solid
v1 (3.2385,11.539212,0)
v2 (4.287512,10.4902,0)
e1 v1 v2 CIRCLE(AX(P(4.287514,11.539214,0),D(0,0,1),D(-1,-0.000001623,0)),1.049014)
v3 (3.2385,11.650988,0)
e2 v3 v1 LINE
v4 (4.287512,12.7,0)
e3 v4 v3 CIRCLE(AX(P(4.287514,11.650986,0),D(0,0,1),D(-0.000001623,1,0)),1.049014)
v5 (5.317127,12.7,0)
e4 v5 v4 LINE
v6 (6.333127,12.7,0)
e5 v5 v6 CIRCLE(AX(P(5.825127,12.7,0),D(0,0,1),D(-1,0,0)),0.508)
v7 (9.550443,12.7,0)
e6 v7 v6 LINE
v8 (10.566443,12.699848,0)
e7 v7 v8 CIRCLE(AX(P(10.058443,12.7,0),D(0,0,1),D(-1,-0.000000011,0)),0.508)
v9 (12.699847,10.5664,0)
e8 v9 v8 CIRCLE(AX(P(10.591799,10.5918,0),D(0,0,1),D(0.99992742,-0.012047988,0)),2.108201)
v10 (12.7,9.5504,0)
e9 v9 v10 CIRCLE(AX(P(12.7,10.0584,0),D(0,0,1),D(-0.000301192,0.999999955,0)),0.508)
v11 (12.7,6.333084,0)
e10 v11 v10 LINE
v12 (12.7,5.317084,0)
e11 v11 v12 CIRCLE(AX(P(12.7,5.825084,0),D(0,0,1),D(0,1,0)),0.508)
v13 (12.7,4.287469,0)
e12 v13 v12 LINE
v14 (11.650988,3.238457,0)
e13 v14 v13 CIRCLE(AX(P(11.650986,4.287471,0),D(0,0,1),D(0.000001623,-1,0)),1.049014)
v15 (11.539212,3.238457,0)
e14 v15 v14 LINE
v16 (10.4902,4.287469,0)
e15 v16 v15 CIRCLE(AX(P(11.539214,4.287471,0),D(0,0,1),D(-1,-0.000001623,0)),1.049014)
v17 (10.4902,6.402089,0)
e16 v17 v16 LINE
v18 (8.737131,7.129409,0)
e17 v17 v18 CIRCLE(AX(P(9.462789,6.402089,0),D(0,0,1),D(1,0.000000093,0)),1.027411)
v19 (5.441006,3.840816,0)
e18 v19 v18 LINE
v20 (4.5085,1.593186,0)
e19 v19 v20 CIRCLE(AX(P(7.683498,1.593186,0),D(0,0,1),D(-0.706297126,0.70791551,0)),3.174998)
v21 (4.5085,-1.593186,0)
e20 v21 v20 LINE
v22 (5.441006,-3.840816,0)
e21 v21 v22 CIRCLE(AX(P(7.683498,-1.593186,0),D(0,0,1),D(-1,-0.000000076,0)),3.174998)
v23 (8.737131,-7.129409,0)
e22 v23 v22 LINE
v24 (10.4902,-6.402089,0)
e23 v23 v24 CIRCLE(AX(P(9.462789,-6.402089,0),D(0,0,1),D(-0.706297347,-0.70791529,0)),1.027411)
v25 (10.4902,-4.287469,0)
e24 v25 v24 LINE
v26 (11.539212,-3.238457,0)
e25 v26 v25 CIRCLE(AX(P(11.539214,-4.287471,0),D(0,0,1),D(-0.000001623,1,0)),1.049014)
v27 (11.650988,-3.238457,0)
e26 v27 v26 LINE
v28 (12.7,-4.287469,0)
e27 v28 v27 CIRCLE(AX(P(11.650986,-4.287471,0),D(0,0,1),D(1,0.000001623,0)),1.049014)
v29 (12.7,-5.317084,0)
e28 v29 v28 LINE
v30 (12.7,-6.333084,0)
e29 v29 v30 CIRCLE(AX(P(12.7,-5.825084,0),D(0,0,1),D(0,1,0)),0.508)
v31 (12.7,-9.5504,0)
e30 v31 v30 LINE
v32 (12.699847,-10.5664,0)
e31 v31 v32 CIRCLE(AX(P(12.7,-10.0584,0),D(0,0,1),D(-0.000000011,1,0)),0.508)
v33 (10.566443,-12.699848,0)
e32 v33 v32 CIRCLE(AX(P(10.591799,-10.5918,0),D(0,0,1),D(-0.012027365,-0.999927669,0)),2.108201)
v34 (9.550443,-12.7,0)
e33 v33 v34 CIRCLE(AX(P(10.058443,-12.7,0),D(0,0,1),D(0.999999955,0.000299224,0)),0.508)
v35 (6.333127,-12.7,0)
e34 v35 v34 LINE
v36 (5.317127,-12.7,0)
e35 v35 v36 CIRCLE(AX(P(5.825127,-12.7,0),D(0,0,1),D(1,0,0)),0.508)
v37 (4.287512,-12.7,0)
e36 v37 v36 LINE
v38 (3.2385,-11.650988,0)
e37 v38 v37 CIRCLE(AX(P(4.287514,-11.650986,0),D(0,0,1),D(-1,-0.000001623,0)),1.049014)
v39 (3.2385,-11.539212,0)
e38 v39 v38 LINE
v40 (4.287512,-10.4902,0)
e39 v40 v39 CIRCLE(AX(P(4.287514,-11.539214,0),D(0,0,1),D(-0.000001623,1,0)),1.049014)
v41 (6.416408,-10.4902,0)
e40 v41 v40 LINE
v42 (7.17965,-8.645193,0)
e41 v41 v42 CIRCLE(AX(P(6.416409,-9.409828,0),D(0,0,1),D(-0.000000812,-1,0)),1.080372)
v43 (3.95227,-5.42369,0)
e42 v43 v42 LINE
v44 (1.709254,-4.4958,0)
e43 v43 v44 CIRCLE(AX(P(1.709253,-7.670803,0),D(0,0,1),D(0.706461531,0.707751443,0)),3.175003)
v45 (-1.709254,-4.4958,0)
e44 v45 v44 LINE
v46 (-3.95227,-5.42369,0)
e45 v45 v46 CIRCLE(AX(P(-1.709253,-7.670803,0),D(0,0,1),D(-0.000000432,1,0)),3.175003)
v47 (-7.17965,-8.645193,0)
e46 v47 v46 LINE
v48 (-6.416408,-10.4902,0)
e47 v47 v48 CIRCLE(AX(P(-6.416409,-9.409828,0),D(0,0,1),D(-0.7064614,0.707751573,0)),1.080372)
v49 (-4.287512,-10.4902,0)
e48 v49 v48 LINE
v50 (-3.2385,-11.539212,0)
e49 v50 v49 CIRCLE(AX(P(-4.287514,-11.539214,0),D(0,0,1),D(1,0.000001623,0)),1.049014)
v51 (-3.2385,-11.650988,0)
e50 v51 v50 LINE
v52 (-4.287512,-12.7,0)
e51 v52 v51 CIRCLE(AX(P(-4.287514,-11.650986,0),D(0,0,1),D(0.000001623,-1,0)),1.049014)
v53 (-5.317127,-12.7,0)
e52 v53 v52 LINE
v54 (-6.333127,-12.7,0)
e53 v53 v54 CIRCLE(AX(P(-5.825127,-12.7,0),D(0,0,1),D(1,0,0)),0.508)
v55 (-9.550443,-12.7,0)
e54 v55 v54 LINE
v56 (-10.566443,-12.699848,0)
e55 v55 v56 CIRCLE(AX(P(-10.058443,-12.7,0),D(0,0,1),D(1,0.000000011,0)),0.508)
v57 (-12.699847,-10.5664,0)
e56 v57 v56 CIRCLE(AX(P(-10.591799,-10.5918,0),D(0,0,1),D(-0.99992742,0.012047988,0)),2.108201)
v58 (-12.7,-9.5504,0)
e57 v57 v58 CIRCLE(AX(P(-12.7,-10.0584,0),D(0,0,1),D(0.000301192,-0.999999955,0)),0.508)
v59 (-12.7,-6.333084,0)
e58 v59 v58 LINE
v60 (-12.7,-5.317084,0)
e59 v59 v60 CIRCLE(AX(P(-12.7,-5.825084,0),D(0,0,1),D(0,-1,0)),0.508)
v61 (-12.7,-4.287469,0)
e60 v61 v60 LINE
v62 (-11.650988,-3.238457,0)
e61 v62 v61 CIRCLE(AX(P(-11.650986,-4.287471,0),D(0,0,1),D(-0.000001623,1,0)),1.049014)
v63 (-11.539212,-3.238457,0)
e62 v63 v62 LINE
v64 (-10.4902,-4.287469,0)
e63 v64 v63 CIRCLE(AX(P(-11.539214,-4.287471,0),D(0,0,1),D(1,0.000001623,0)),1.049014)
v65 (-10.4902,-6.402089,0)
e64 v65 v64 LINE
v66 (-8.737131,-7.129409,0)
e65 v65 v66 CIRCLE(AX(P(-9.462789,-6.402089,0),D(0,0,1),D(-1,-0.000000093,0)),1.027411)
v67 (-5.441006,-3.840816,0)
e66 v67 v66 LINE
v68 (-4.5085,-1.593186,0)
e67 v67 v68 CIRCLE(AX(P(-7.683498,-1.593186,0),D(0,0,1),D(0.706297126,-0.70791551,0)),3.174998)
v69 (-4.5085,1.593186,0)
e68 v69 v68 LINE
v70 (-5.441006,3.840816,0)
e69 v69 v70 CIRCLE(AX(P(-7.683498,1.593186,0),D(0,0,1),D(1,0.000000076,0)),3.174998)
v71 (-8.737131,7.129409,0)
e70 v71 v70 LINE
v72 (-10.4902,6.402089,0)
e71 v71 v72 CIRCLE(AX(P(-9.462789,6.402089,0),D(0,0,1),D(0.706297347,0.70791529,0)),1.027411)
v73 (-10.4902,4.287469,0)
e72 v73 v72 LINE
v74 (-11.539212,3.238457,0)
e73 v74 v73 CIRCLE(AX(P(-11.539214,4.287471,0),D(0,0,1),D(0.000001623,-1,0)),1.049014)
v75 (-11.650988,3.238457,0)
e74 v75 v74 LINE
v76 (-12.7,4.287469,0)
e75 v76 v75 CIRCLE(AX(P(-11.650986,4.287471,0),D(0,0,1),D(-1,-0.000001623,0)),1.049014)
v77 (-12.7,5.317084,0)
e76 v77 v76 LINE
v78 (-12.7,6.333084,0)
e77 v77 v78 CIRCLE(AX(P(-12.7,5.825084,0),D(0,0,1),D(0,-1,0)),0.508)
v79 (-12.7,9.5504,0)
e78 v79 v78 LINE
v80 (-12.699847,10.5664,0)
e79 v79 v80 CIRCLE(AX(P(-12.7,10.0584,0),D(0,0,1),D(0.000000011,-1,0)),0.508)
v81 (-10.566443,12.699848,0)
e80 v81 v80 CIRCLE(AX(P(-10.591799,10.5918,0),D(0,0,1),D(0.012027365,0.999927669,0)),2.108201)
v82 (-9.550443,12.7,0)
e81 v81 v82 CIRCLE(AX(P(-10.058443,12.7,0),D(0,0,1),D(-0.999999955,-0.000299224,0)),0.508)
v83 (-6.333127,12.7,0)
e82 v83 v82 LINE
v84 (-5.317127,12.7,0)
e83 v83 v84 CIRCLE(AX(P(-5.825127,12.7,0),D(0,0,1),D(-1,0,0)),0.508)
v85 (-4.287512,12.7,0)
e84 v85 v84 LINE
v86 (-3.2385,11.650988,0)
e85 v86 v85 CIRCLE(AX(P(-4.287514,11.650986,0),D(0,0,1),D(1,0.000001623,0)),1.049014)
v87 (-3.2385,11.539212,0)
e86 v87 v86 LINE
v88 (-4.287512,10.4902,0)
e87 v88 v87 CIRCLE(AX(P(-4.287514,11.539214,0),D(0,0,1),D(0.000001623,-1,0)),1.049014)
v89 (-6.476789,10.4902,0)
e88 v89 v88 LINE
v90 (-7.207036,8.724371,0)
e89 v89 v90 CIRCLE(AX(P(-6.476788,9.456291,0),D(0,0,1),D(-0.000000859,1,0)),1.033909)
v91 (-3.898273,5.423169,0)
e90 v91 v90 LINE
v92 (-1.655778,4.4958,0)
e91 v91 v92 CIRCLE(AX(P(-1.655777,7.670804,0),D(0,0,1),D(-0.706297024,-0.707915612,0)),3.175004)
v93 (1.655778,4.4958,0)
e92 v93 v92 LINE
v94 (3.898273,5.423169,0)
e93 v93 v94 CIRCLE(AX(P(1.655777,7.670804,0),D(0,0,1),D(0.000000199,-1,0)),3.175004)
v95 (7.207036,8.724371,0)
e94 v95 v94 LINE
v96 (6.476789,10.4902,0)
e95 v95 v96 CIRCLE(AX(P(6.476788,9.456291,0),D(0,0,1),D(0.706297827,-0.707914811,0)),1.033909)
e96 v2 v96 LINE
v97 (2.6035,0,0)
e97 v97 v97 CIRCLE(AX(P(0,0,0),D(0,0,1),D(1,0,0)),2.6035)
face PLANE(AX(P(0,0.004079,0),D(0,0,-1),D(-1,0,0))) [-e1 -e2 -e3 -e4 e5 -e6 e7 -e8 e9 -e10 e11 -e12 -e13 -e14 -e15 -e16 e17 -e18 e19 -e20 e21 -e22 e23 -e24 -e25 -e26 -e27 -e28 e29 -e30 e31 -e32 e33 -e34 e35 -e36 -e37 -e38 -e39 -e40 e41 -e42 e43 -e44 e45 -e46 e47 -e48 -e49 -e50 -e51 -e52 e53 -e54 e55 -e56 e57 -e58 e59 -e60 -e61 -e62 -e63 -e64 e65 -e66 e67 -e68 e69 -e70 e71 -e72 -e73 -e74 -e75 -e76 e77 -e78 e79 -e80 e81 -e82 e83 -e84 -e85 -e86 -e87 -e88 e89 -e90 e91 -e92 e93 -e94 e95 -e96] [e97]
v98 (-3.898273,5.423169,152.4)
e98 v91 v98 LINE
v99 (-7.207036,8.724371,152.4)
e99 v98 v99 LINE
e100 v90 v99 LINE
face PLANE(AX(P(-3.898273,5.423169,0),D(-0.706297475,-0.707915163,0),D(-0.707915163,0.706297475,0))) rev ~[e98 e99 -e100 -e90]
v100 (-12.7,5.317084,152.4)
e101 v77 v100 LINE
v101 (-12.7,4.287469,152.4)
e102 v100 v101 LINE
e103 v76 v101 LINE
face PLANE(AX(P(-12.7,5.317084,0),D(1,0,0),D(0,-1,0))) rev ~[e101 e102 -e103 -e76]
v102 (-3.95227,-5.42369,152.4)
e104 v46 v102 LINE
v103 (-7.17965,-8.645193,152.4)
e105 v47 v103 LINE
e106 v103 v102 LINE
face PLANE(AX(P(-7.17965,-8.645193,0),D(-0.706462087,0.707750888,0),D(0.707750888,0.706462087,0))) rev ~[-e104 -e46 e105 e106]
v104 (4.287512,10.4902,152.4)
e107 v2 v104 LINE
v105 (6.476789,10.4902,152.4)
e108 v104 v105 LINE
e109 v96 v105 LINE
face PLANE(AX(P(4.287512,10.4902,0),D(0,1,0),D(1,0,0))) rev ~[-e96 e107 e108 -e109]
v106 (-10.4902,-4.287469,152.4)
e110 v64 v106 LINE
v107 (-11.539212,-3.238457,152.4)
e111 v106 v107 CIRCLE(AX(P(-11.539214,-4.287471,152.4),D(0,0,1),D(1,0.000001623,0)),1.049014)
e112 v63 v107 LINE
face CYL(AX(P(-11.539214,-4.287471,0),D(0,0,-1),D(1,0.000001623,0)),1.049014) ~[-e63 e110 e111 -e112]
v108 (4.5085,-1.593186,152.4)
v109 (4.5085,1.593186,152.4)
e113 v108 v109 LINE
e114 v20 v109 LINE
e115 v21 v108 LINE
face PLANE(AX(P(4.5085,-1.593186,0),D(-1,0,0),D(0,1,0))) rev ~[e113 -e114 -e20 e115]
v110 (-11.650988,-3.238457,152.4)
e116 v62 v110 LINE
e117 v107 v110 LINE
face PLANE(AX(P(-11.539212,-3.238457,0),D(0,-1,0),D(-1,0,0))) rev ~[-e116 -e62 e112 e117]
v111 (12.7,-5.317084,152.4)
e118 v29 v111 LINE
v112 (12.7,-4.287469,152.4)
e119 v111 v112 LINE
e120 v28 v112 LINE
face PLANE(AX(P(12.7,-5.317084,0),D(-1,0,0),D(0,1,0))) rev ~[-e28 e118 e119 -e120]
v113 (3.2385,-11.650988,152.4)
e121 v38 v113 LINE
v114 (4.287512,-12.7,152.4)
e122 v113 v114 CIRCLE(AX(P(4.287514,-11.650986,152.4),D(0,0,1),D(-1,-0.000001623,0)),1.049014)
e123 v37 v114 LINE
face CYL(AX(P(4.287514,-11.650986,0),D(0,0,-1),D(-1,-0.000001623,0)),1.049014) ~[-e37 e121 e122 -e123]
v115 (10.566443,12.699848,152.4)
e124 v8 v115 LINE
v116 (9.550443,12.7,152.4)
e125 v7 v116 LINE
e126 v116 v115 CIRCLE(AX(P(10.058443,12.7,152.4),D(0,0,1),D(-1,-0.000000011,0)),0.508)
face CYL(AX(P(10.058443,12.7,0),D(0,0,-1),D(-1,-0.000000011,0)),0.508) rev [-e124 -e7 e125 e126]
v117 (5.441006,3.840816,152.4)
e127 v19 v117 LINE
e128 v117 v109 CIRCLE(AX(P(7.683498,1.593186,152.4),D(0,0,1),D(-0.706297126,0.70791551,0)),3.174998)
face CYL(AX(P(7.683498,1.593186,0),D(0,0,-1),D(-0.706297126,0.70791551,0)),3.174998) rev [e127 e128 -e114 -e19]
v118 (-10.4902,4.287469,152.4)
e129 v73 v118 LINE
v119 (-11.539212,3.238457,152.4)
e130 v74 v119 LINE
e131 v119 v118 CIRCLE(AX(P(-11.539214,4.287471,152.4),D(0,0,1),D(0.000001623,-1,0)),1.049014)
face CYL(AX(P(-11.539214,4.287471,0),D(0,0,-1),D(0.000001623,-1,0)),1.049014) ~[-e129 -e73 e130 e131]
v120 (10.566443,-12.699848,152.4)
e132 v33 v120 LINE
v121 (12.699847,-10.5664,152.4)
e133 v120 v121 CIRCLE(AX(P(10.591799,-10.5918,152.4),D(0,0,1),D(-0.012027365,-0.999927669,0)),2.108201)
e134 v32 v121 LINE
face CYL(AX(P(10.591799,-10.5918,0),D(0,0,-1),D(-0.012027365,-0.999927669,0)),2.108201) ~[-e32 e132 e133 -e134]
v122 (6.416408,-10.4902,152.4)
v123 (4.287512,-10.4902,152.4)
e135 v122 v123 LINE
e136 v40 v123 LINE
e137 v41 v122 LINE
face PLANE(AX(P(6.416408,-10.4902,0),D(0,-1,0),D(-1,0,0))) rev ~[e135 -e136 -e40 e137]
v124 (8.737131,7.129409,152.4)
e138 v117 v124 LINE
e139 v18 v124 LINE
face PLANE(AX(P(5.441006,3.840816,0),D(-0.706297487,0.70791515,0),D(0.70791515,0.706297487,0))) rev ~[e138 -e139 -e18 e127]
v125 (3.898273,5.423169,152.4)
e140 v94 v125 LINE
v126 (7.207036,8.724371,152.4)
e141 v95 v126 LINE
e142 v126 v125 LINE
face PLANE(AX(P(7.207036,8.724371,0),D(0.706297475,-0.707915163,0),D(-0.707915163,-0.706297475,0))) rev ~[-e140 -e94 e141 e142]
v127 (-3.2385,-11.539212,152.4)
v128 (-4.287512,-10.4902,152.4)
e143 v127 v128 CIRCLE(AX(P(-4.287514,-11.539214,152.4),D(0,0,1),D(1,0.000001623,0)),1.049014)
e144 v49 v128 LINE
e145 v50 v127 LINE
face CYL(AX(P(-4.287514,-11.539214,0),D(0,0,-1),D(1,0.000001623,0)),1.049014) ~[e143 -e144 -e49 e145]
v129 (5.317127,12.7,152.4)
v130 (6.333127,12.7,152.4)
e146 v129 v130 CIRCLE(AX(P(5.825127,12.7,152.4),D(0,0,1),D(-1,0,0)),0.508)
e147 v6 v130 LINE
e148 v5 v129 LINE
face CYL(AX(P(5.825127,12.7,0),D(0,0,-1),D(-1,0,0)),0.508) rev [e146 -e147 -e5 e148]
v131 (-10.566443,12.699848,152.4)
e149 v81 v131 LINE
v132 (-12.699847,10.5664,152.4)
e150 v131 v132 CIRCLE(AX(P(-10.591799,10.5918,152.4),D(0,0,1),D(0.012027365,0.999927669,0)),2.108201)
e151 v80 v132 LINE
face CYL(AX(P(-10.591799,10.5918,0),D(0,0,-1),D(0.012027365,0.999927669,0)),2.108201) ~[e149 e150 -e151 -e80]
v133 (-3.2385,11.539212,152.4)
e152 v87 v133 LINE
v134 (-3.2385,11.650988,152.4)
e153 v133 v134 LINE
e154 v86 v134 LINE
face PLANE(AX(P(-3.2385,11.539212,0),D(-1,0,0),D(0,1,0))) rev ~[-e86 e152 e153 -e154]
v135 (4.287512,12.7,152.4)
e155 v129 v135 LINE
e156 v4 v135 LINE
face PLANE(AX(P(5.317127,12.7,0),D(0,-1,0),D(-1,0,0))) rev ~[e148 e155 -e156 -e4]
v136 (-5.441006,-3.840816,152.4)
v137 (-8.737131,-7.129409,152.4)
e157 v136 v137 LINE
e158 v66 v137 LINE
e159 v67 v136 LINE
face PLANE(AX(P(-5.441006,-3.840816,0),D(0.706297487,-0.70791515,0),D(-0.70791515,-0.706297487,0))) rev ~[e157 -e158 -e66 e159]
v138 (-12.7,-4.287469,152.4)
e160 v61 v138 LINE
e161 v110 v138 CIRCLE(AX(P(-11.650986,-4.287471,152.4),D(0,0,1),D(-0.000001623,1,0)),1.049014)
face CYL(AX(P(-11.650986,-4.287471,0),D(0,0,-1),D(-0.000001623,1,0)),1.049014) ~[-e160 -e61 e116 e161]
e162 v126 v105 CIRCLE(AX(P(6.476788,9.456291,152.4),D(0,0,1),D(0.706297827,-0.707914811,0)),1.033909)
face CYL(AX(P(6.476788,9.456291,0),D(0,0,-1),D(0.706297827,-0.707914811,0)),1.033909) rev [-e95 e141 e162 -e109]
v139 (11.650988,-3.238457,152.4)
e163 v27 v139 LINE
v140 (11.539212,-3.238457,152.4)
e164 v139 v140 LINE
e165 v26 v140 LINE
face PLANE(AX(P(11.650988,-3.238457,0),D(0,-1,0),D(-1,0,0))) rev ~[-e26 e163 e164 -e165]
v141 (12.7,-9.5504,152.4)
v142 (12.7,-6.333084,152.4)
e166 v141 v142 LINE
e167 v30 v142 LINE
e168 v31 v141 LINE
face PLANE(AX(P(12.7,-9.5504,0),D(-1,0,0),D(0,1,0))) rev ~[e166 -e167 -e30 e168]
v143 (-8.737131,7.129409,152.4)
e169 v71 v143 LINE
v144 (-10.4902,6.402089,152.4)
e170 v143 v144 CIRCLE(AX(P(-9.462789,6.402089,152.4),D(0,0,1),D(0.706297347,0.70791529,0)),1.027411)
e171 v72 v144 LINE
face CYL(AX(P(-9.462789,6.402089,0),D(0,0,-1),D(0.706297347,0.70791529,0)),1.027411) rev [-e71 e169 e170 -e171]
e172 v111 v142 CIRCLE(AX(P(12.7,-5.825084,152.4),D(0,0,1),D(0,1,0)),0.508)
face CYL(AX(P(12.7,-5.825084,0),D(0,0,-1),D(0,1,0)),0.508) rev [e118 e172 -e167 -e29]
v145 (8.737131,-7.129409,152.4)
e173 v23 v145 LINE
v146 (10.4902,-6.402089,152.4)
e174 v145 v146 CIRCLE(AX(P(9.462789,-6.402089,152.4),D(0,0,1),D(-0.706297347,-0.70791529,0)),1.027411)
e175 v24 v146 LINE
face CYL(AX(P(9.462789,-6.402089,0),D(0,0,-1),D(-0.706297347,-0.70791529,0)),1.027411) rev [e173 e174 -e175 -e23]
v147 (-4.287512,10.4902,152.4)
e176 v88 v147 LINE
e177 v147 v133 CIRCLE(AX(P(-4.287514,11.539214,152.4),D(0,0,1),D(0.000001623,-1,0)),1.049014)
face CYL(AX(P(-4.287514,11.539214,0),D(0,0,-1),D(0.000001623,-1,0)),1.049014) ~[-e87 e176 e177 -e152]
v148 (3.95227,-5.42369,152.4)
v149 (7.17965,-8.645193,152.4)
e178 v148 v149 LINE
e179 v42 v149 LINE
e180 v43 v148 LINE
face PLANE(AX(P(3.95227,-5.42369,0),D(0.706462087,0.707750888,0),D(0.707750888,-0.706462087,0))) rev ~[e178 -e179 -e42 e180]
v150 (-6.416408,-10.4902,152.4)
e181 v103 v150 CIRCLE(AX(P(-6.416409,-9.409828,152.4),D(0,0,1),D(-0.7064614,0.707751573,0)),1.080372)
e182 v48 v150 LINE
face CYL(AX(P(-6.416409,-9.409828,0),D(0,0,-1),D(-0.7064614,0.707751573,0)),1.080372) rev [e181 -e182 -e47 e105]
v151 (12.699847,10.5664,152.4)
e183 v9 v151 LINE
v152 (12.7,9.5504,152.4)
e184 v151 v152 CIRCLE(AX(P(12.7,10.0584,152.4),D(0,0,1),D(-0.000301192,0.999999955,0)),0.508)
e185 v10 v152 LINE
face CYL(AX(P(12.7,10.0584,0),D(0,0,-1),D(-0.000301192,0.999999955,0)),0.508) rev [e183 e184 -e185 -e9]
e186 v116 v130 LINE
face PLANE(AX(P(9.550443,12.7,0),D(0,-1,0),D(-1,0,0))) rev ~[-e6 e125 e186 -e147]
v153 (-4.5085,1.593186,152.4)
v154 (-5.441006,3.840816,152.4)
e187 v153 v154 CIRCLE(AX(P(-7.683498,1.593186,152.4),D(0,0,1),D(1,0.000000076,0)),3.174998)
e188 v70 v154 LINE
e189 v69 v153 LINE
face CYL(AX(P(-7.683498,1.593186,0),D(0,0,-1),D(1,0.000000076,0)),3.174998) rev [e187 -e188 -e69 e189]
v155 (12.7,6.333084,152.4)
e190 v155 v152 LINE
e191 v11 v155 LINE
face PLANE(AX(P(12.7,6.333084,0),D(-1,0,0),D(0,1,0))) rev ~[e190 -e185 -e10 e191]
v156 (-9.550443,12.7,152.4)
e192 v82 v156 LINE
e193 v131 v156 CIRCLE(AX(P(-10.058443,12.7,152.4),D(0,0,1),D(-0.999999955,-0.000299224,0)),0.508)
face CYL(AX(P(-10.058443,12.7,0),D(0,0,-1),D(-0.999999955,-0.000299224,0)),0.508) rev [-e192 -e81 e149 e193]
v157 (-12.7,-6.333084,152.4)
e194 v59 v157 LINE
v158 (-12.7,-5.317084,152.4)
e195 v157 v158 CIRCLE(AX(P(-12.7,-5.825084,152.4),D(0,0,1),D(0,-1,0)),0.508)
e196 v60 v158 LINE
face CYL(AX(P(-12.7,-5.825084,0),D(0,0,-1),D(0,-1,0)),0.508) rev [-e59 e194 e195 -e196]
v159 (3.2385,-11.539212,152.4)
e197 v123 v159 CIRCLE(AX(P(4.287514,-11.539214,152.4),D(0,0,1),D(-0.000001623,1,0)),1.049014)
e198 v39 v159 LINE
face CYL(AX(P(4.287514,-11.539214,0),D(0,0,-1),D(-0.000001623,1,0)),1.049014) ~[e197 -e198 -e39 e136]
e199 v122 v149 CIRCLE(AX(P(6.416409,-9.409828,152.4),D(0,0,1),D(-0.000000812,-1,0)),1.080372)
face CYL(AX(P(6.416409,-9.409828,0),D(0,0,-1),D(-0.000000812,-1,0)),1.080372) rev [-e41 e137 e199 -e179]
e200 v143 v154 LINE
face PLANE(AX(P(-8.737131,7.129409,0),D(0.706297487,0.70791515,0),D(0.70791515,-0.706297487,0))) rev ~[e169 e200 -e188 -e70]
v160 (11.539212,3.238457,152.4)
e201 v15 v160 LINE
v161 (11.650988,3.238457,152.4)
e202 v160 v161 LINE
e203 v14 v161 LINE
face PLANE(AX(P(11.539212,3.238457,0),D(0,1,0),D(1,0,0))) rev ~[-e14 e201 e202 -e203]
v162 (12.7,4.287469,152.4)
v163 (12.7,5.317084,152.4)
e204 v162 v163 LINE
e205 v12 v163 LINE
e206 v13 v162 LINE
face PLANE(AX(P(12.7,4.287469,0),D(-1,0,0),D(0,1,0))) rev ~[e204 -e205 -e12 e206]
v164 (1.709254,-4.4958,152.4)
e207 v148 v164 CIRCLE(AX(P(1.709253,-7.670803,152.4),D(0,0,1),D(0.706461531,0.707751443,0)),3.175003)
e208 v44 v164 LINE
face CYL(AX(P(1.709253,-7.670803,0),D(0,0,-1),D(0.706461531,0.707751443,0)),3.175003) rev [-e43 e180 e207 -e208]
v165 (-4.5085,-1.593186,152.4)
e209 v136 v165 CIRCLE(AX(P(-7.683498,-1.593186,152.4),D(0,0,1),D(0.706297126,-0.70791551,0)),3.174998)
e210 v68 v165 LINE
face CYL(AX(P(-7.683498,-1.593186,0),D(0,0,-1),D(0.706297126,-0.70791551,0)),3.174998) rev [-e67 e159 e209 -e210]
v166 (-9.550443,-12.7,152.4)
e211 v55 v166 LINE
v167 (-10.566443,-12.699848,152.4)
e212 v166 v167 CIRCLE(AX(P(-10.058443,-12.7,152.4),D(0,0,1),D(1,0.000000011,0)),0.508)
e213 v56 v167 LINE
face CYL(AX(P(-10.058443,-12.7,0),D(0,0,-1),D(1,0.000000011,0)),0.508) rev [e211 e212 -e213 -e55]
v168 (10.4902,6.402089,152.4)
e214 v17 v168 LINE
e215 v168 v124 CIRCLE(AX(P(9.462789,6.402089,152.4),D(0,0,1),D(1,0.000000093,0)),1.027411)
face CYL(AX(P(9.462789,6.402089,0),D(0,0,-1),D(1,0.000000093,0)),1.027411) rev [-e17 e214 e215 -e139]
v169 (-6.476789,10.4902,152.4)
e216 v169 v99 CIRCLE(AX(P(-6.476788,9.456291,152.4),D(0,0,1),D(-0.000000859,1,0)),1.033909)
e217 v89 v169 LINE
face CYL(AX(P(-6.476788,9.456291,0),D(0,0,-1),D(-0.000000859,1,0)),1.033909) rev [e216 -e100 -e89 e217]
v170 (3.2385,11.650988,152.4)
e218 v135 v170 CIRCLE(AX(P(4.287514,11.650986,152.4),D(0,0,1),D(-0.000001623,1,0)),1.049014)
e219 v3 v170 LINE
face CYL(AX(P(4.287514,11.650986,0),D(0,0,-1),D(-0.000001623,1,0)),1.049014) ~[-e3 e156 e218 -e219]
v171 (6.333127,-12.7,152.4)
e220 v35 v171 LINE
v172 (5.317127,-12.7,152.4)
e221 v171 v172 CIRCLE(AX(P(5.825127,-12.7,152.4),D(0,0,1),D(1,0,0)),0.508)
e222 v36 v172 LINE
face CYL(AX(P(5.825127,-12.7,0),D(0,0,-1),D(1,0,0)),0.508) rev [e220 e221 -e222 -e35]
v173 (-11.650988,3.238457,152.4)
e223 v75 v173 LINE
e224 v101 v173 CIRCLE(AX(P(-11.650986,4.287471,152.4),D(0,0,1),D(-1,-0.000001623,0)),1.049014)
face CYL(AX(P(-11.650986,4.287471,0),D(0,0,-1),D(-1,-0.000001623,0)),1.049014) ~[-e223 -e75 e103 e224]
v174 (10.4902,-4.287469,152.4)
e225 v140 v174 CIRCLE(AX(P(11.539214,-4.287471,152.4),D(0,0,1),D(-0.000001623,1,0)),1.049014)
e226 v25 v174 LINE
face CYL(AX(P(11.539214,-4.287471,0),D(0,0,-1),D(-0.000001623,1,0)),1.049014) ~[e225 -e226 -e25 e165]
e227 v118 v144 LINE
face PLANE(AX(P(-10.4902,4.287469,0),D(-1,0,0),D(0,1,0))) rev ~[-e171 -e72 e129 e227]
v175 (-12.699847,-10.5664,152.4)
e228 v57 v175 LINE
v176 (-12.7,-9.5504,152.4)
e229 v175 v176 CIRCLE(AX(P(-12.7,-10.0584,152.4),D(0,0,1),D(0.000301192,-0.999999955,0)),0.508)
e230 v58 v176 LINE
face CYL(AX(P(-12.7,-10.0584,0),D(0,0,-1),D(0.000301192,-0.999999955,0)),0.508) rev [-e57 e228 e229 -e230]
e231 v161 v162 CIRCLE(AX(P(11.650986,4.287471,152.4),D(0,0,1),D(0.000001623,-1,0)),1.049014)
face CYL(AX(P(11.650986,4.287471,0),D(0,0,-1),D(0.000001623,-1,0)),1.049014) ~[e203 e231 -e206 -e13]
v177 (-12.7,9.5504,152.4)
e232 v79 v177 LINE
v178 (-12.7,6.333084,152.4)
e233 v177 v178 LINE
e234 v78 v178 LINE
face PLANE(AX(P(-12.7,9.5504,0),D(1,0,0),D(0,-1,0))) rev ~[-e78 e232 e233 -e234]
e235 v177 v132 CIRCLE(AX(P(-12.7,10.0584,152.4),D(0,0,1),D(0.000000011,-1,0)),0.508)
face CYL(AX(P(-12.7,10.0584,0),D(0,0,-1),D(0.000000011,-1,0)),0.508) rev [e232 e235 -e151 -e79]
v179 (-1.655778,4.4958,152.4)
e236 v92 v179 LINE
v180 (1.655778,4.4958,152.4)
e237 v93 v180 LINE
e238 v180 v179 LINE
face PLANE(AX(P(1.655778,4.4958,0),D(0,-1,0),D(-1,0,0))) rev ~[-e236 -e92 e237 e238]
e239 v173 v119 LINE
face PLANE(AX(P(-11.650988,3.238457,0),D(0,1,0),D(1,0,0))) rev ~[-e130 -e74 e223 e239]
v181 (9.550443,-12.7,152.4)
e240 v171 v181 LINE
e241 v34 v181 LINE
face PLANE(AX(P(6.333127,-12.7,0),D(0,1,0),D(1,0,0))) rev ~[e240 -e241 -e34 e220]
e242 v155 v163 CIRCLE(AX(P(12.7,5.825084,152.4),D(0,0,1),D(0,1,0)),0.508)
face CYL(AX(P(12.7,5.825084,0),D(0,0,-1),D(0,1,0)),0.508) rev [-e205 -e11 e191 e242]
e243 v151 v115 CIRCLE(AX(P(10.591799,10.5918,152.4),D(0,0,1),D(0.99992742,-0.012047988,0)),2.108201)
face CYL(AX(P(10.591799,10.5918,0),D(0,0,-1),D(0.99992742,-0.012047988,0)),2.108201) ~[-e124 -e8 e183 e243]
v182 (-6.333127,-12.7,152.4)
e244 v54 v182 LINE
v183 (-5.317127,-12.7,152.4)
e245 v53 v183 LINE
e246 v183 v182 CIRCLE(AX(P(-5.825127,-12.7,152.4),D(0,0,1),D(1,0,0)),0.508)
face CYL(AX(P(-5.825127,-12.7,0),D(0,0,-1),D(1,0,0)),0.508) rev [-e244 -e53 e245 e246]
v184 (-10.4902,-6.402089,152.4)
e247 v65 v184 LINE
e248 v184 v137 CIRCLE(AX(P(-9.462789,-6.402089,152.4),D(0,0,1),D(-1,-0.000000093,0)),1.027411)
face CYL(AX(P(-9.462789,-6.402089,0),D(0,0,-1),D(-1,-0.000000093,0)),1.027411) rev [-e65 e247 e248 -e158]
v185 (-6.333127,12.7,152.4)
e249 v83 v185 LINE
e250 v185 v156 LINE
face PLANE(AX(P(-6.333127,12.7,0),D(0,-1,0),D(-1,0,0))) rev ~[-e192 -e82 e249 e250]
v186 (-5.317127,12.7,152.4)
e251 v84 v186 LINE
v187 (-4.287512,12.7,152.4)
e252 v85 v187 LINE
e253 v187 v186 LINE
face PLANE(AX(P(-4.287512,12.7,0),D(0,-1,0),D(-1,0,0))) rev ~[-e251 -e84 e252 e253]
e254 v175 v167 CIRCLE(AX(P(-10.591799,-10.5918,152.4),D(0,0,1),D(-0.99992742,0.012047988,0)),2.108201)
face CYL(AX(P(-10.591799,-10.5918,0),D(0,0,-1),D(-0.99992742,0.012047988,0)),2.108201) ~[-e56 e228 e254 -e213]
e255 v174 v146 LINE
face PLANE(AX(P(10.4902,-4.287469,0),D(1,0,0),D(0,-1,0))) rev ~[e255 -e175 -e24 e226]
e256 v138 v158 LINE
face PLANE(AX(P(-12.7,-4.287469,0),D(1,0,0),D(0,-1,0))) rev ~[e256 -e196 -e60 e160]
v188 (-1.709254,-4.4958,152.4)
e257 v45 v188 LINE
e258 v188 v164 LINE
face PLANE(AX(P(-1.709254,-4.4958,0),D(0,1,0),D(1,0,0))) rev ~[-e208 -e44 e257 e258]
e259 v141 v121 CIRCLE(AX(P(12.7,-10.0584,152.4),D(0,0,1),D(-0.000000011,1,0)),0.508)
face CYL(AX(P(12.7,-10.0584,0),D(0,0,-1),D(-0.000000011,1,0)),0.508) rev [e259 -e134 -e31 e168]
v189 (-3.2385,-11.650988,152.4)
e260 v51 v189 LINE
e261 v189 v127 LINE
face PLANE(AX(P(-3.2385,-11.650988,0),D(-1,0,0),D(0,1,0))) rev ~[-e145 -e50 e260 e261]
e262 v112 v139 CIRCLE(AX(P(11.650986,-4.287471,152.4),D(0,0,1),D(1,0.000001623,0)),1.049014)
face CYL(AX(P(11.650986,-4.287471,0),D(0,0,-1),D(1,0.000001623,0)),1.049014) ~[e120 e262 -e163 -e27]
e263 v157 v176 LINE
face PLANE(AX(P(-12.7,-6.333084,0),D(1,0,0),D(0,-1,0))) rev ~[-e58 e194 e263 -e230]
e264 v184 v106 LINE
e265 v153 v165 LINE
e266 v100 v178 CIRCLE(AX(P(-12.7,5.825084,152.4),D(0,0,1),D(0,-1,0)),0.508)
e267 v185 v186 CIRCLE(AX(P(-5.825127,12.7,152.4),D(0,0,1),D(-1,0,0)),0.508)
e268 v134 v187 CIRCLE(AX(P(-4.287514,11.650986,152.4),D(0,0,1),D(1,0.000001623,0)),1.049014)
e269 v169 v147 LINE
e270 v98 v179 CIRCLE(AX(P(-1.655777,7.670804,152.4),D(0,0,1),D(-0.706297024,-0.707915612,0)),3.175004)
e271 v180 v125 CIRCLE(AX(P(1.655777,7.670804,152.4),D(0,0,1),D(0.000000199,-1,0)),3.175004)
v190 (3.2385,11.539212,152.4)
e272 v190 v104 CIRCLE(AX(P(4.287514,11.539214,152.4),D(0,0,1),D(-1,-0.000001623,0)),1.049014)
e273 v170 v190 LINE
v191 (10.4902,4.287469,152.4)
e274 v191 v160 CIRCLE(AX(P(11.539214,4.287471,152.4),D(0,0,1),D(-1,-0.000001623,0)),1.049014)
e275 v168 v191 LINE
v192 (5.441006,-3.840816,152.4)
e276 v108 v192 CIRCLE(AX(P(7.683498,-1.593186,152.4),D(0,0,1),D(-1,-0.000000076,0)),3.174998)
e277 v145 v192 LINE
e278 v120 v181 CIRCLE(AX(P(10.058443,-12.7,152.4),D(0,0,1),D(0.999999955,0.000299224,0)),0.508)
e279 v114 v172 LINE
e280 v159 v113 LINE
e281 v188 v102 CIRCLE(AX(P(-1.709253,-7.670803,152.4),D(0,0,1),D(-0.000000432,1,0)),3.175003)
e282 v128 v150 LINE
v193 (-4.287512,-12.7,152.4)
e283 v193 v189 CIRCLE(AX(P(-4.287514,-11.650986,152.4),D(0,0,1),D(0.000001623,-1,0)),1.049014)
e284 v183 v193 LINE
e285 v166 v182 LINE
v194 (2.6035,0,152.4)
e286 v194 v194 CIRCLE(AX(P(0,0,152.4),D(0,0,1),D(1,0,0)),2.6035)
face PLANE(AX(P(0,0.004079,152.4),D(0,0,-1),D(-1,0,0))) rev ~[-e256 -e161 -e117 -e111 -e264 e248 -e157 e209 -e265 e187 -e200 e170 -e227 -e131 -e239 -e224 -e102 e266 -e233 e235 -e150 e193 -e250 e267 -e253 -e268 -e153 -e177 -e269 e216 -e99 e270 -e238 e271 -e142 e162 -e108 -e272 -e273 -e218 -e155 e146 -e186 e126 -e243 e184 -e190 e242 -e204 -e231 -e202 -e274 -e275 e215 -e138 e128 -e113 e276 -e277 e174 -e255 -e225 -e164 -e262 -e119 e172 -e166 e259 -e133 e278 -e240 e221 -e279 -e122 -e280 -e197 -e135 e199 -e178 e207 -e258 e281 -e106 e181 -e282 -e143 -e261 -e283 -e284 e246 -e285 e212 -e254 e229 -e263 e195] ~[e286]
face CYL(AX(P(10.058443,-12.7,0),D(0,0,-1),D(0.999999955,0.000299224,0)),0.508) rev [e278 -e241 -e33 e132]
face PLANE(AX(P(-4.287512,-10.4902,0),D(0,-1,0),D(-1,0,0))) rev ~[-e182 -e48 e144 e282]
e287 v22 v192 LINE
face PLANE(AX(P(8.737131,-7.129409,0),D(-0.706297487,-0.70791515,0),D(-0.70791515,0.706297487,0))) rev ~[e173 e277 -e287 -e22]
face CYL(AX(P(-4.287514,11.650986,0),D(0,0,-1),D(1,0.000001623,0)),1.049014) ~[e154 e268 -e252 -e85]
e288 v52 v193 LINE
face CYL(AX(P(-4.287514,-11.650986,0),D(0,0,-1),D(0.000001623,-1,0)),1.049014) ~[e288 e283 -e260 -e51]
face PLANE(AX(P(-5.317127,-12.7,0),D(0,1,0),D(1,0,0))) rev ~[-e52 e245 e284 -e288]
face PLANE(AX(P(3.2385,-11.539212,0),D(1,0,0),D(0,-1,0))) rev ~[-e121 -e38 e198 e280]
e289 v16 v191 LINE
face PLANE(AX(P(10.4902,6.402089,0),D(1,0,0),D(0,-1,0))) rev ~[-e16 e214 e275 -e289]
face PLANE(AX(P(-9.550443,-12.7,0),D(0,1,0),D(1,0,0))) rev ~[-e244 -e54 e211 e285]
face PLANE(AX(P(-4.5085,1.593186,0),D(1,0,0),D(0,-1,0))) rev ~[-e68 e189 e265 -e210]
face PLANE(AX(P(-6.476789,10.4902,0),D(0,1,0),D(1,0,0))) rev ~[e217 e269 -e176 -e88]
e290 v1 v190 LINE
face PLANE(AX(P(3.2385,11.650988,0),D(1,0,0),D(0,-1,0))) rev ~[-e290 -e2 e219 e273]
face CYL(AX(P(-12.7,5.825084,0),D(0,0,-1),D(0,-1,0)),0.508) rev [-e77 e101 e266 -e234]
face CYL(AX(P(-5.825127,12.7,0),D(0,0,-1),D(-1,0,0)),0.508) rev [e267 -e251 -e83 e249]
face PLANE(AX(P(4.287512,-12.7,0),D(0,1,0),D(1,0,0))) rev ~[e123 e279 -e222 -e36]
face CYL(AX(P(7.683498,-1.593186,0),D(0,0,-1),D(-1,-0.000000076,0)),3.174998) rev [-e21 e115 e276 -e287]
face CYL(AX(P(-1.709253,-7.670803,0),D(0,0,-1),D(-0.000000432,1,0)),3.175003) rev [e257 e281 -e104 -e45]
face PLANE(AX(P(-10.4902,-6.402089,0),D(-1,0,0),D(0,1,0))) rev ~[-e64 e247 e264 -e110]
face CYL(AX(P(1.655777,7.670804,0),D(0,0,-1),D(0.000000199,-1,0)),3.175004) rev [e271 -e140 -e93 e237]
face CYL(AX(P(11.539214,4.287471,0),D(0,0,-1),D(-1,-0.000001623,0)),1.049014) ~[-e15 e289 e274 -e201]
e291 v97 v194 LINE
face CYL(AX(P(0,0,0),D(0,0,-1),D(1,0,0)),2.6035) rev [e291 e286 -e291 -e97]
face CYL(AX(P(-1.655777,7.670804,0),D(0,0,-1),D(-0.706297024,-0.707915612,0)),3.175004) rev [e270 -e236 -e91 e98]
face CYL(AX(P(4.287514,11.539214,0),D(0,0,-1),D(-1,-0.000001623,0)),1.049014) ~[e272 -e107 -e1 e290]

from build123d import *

# Parameters (mm, degrees)
SKETCH097_R   = 2.6035
EXTRUDE_DEPTH = 152.4


with BuildPart() as part:
    # Sketch097 → Extrude (new body)
    with BuildSketch(Plane.XY):
        with BuildLine():
            ThreePointArc((12.7, 6.333084), (12.192, 5.825084), (12.7, 5.317084))
            Line((12.7, 4.287469), (12.7, 5.317084))
            ThreePointArc((11.650988, 3.238457), (12.392751, 3.545706), (12.7, 4.287469))
            Line((11.539212, 3.238457), (11.650988, 3.238457))
            ThreePointArc((10.4902, 4.287469), (10.797449, 3.545706), (11.539212, 3.238457))
            Line((10.4902, 6.402089), (10.4902, 4.287469))
            ThreePointArc((10.4902, 6.402089), (9.856505, 7.351068), (8.737131, 7.129409))
            Line((5.441006, 3.840816), (8.737131, 7.129409))
            ThreePointArc((5.441006, 3.840816), (4.750878, 2.809883), (4.5085, 1.593186))
            Line((4.5085, -1.593186), (4.5085, 1.593186))
            ThreePointArc((4.5085, -1.593186), (4.750878, -2.809883), (5.441006, -3.840816))
            Line((8.737131, -7.129409), (5.441006, -3.840816))
            ThreePointArc((8.737131, -7.129409), (9.856505, -7.351068), (10.4902, -6.402089))
            Line((10.4902, -4.287469), (10.4902, -6.402089))
            ThreePointArc((11.539212, -3.238457), (10.797449, -3.545706), (10.4902, -4.287469))
            Line((11.650988, -3.238457), (11.539212, -3.238457))
            ThreePointArc((12.7, -4.287469), (12.392751, -3.545706), (11.650988, -3.238457))
            Line((12.7, -5.317084), (12.7, -4.287469))
            ThreePointArc((12.7, -5.317084), (12.192, -5.825084), (12.7, -6.333084))
            Line((12.7, -9.5504), (12.7, -6.333084))
            ThreePointArc((12.7, -9.5504), (12.192, -10.058323), (12.699847, -10.5664))
            ThreePointArc((10.566443, -12.699848), (12.082538, -12.082507), (12.699847, -10.5664))
            ThreePointArc((10.566443, -12.699848), (10.058367, -12.192), (9.550443, -12.7))
            Line((6.333127, -12.7), (9.550443, -12.7))
            ThreePointArc((6.333127, -12.7), (5.825127, -12.192), (5.317127, -12.7))
            Line((4.287512, -12.7), (5.317127, -12.7))
            ThreePointArc((3.2385, -11.650988), (3.545749, -12.392751), (4.287512, -12.7))
            Line((3.2385, -11.539212), (3.2385, -11.650988))
            ThreePointArc((4.287512, -10.4902), (3.545749, -10.797449), (3.2385, -11.539212))
            Line((6.416408, -10.4902), (4.287512, -10.4902))
            ThreePointArc((6.416408, -10.4902), (7.414731, -9.822813), (7.17965, -8.645193))
            Line((3.95227, -5.42369), (7.17965, -8.645193))
            ThreePointArc((3.95227, -5.42369), (2.922936, -4.736929), (1.709254, -4.4958))
            Line((-1.709254, -4.4958), (1.709254, -4.4958))
            ThreePointArc((-1.709254, -4.4958), (-2.922936, -4.736929), (-3.95227, -5.42369))
            Line((-7.17965, -8.645193), (-3.95227, -5.42369))
            ThreePointArc((-7.17965, -8.645193), (-7.414731, -9.822813), (-6.416408, -10.4902))
            Line((-4.287512, -10.4902), (-6.416408, -10.4902))
            ThreePointArc((-3.2385, -11.539212), (-3.545749, -10.797449), (-4.287512, -10.4902))
            Line((-3.2385, -11.650988), (-3.2385, -11.539212))
            ThreePointArc((-4.287512, -12.7), (-3.545749, -12.392751), (-3.2385, -11.650988))
            Line((-5.317127, -12.7), (-4.287512, -12.7))
            ThreePointArc((-5.317127, -12.7), (-5.825127, -12.192), (-6.333127, -12.7))
            Line((-9.550443, -12.7), (-6.333127, -12.7))
            ThreePointArc((-9.550443, -12.7), (-10.058367, -12.192), (-10.566443, -12.699848))
            ThreePointArc((-12.699847, -10.5664), (-12.082538, -12.082507), (-10.566443, -12.699848))
            ThreePointArc((-12.699847, -10.5664), (-12.192, -10.058323), (-12.7, -9.5504))
            Line((-12.7, -6.333084), (-12.7, -9.5504))
            ThreePointArc((-12.7, -6.333084), (-12.192, -5.825084), (-12.7, -5.317084))
            Line((-12.7, -4.287469), (-12.7, -5.317084))
            ThreePointArc((-11.650988, -3.238457), (-12.392751, -3.545706), (-12.7, -4.287469))
            Line((-11.539212, -3.238457), (-11.650988, -3.238457))
            ThreePointArc((-10.4902, -4.287469), (-10.797449, -3.545706), (-11.539212, -3.238457))
            Line((-10.4902, -6.402089), (-10.4902, -4.287469))
            ThreePointArc((-10.4902, -6.402089), (-9.856505, -7.351068), (-8.737131, -7.129409))
            Line((-5.441006, -3.840816), (-8.737131, -7.129409))
            ThreePointArc((-5.441006, -3.840816), (-4.750878, -2.809883), (-4.5085, -1.593186))
            Line((-4.5085, 1.593186), (-4.5085, -1.593186))
            ThreePointArc((-4.5085, 1.593186), (-4.750878, 2.809883), (-5.441006, 3.840816))
            Line((-8.737131, 7.129409), (-5.441006, 3.840816))
            ThreePointArc((-8.737131, 7.129409), (-9.856505, 7.351068), (-10.4902, 6.402089))
            Line((-10.4902, 4.287469), (-10.4902, 6.402089))
            ThreePointArc((-11.539212, 3.238457), (-10.797449, 3.545706), (-10.4902, 4.287469))
            Line((-11.650988, 3.238457), (-11.539212, 3.238457))
            ThreePointArc((-12.7, 4.287469), (-12.392751, 3.545706), (-11.650988, 3.238457))
            Line((-12.7, 5.317084), (-12.7, 4.287469))
            ThreePointArc((-12.7, 5.317084), (-12.192, 5.825084), (-12.7, 6.333084))
            Line((-12.7, 9.5504), (-12.7, 6.333084))
            ThreePointArc((-12.7, 9.5504), (-12.192, 10.058323), (-12.699847, 10.5664))
            ThreePointArc((-10.566443, 12.699848), (-12.082538, 12.082507), (-12.699847, 10.5664))
            ThreePointArc((-10.566443, 12.699848), (-10.058367, 12.192), (-9.550443, 12.7))
            Line((-6.333127, 12.7), (-9.550443, 12.7))
            ThreePointArc((-6.333127, 12.7), (-5.825127, 12.192), (-5.317127, 12.7))
            Line((-4.287512, 12.7), (-5.317127, 12.7))
            ThreePointArc((-3.2385, 11.650988), (-3.545749, 12.392751), (-4.287512, 12.7))
            Line((-3.2385, 11.539212), (-3.2385, 11.650988))
            ThreePointArc((-4.287512, 10.4902), (-3.545749, 10.797449), (-3.2385, 11.539212))
            Line((-6.476789, 10.4902), (-4.287512, 10.4902))
            ThreePointArc((-6.476789, 10.4902), (-7.432222, 9.851404), (-7.207036, 8.724371))
            Line((-3.898273, 5.423169), (-7.207036, 8.724371))
            ThreePointArc((-3.898273, 5.423169), (-2.86912, 4.736788), (-1.655778, 4.4958))
            Line((1.655778, 4.4958), (-1.655778, 4.4958))
            ThreePointArc((1.655778, 4.4958), (2.86912, 4.736788), (3.898273, 5.423169))
            Line((7.207036, 8.724371), (3.898273, 5.423169))
            ThreePointArc((7.207036, 8.724371), (7.432222, 9.851404), (6.476789, 10.4902))
            Line((4.287512, 10.4902), (6.476789, 10.4902))
            ThreePointArc((3.2385, 11.539212), (3.545749, 10.797449), (4.287512, 10.4902))
            Line((3.2385, 11.650988), (3.2385, 11.539212))
            ThreePointArc((4.287512, 12.7), (3.545749, 12.392751), (3.2385, 11.650988))
            Line((5.317127, 12.7), (4.287512, 12.7))
            ThreePointArc((5.317127, 12.7), (5.825127, 12.192), (6.333127, 12.7))
            Line((9.550443, 12.7), (6.333127, 12.7))
            ThreePointArc((9.550443, 12.7), (10.058367, 12.192), (10.566443, 12.699848))
            ThreePointArc((12.699847, 10.5664), (12.082538, 12.082507), (10.566443, 12.699848))
            ThreePointArc((12.699847, 10.5664), (12.192, 10.058323), (12.7, 9.5504))
            Line((12.7, 6.333084), (12.7, 9.5504))
        make_face()
        Circle(SKETCH097_R, mode=Mode.SUBTRACT)
    extrude(amount=EXTRUDE_DEPTH)


solid = part.part
